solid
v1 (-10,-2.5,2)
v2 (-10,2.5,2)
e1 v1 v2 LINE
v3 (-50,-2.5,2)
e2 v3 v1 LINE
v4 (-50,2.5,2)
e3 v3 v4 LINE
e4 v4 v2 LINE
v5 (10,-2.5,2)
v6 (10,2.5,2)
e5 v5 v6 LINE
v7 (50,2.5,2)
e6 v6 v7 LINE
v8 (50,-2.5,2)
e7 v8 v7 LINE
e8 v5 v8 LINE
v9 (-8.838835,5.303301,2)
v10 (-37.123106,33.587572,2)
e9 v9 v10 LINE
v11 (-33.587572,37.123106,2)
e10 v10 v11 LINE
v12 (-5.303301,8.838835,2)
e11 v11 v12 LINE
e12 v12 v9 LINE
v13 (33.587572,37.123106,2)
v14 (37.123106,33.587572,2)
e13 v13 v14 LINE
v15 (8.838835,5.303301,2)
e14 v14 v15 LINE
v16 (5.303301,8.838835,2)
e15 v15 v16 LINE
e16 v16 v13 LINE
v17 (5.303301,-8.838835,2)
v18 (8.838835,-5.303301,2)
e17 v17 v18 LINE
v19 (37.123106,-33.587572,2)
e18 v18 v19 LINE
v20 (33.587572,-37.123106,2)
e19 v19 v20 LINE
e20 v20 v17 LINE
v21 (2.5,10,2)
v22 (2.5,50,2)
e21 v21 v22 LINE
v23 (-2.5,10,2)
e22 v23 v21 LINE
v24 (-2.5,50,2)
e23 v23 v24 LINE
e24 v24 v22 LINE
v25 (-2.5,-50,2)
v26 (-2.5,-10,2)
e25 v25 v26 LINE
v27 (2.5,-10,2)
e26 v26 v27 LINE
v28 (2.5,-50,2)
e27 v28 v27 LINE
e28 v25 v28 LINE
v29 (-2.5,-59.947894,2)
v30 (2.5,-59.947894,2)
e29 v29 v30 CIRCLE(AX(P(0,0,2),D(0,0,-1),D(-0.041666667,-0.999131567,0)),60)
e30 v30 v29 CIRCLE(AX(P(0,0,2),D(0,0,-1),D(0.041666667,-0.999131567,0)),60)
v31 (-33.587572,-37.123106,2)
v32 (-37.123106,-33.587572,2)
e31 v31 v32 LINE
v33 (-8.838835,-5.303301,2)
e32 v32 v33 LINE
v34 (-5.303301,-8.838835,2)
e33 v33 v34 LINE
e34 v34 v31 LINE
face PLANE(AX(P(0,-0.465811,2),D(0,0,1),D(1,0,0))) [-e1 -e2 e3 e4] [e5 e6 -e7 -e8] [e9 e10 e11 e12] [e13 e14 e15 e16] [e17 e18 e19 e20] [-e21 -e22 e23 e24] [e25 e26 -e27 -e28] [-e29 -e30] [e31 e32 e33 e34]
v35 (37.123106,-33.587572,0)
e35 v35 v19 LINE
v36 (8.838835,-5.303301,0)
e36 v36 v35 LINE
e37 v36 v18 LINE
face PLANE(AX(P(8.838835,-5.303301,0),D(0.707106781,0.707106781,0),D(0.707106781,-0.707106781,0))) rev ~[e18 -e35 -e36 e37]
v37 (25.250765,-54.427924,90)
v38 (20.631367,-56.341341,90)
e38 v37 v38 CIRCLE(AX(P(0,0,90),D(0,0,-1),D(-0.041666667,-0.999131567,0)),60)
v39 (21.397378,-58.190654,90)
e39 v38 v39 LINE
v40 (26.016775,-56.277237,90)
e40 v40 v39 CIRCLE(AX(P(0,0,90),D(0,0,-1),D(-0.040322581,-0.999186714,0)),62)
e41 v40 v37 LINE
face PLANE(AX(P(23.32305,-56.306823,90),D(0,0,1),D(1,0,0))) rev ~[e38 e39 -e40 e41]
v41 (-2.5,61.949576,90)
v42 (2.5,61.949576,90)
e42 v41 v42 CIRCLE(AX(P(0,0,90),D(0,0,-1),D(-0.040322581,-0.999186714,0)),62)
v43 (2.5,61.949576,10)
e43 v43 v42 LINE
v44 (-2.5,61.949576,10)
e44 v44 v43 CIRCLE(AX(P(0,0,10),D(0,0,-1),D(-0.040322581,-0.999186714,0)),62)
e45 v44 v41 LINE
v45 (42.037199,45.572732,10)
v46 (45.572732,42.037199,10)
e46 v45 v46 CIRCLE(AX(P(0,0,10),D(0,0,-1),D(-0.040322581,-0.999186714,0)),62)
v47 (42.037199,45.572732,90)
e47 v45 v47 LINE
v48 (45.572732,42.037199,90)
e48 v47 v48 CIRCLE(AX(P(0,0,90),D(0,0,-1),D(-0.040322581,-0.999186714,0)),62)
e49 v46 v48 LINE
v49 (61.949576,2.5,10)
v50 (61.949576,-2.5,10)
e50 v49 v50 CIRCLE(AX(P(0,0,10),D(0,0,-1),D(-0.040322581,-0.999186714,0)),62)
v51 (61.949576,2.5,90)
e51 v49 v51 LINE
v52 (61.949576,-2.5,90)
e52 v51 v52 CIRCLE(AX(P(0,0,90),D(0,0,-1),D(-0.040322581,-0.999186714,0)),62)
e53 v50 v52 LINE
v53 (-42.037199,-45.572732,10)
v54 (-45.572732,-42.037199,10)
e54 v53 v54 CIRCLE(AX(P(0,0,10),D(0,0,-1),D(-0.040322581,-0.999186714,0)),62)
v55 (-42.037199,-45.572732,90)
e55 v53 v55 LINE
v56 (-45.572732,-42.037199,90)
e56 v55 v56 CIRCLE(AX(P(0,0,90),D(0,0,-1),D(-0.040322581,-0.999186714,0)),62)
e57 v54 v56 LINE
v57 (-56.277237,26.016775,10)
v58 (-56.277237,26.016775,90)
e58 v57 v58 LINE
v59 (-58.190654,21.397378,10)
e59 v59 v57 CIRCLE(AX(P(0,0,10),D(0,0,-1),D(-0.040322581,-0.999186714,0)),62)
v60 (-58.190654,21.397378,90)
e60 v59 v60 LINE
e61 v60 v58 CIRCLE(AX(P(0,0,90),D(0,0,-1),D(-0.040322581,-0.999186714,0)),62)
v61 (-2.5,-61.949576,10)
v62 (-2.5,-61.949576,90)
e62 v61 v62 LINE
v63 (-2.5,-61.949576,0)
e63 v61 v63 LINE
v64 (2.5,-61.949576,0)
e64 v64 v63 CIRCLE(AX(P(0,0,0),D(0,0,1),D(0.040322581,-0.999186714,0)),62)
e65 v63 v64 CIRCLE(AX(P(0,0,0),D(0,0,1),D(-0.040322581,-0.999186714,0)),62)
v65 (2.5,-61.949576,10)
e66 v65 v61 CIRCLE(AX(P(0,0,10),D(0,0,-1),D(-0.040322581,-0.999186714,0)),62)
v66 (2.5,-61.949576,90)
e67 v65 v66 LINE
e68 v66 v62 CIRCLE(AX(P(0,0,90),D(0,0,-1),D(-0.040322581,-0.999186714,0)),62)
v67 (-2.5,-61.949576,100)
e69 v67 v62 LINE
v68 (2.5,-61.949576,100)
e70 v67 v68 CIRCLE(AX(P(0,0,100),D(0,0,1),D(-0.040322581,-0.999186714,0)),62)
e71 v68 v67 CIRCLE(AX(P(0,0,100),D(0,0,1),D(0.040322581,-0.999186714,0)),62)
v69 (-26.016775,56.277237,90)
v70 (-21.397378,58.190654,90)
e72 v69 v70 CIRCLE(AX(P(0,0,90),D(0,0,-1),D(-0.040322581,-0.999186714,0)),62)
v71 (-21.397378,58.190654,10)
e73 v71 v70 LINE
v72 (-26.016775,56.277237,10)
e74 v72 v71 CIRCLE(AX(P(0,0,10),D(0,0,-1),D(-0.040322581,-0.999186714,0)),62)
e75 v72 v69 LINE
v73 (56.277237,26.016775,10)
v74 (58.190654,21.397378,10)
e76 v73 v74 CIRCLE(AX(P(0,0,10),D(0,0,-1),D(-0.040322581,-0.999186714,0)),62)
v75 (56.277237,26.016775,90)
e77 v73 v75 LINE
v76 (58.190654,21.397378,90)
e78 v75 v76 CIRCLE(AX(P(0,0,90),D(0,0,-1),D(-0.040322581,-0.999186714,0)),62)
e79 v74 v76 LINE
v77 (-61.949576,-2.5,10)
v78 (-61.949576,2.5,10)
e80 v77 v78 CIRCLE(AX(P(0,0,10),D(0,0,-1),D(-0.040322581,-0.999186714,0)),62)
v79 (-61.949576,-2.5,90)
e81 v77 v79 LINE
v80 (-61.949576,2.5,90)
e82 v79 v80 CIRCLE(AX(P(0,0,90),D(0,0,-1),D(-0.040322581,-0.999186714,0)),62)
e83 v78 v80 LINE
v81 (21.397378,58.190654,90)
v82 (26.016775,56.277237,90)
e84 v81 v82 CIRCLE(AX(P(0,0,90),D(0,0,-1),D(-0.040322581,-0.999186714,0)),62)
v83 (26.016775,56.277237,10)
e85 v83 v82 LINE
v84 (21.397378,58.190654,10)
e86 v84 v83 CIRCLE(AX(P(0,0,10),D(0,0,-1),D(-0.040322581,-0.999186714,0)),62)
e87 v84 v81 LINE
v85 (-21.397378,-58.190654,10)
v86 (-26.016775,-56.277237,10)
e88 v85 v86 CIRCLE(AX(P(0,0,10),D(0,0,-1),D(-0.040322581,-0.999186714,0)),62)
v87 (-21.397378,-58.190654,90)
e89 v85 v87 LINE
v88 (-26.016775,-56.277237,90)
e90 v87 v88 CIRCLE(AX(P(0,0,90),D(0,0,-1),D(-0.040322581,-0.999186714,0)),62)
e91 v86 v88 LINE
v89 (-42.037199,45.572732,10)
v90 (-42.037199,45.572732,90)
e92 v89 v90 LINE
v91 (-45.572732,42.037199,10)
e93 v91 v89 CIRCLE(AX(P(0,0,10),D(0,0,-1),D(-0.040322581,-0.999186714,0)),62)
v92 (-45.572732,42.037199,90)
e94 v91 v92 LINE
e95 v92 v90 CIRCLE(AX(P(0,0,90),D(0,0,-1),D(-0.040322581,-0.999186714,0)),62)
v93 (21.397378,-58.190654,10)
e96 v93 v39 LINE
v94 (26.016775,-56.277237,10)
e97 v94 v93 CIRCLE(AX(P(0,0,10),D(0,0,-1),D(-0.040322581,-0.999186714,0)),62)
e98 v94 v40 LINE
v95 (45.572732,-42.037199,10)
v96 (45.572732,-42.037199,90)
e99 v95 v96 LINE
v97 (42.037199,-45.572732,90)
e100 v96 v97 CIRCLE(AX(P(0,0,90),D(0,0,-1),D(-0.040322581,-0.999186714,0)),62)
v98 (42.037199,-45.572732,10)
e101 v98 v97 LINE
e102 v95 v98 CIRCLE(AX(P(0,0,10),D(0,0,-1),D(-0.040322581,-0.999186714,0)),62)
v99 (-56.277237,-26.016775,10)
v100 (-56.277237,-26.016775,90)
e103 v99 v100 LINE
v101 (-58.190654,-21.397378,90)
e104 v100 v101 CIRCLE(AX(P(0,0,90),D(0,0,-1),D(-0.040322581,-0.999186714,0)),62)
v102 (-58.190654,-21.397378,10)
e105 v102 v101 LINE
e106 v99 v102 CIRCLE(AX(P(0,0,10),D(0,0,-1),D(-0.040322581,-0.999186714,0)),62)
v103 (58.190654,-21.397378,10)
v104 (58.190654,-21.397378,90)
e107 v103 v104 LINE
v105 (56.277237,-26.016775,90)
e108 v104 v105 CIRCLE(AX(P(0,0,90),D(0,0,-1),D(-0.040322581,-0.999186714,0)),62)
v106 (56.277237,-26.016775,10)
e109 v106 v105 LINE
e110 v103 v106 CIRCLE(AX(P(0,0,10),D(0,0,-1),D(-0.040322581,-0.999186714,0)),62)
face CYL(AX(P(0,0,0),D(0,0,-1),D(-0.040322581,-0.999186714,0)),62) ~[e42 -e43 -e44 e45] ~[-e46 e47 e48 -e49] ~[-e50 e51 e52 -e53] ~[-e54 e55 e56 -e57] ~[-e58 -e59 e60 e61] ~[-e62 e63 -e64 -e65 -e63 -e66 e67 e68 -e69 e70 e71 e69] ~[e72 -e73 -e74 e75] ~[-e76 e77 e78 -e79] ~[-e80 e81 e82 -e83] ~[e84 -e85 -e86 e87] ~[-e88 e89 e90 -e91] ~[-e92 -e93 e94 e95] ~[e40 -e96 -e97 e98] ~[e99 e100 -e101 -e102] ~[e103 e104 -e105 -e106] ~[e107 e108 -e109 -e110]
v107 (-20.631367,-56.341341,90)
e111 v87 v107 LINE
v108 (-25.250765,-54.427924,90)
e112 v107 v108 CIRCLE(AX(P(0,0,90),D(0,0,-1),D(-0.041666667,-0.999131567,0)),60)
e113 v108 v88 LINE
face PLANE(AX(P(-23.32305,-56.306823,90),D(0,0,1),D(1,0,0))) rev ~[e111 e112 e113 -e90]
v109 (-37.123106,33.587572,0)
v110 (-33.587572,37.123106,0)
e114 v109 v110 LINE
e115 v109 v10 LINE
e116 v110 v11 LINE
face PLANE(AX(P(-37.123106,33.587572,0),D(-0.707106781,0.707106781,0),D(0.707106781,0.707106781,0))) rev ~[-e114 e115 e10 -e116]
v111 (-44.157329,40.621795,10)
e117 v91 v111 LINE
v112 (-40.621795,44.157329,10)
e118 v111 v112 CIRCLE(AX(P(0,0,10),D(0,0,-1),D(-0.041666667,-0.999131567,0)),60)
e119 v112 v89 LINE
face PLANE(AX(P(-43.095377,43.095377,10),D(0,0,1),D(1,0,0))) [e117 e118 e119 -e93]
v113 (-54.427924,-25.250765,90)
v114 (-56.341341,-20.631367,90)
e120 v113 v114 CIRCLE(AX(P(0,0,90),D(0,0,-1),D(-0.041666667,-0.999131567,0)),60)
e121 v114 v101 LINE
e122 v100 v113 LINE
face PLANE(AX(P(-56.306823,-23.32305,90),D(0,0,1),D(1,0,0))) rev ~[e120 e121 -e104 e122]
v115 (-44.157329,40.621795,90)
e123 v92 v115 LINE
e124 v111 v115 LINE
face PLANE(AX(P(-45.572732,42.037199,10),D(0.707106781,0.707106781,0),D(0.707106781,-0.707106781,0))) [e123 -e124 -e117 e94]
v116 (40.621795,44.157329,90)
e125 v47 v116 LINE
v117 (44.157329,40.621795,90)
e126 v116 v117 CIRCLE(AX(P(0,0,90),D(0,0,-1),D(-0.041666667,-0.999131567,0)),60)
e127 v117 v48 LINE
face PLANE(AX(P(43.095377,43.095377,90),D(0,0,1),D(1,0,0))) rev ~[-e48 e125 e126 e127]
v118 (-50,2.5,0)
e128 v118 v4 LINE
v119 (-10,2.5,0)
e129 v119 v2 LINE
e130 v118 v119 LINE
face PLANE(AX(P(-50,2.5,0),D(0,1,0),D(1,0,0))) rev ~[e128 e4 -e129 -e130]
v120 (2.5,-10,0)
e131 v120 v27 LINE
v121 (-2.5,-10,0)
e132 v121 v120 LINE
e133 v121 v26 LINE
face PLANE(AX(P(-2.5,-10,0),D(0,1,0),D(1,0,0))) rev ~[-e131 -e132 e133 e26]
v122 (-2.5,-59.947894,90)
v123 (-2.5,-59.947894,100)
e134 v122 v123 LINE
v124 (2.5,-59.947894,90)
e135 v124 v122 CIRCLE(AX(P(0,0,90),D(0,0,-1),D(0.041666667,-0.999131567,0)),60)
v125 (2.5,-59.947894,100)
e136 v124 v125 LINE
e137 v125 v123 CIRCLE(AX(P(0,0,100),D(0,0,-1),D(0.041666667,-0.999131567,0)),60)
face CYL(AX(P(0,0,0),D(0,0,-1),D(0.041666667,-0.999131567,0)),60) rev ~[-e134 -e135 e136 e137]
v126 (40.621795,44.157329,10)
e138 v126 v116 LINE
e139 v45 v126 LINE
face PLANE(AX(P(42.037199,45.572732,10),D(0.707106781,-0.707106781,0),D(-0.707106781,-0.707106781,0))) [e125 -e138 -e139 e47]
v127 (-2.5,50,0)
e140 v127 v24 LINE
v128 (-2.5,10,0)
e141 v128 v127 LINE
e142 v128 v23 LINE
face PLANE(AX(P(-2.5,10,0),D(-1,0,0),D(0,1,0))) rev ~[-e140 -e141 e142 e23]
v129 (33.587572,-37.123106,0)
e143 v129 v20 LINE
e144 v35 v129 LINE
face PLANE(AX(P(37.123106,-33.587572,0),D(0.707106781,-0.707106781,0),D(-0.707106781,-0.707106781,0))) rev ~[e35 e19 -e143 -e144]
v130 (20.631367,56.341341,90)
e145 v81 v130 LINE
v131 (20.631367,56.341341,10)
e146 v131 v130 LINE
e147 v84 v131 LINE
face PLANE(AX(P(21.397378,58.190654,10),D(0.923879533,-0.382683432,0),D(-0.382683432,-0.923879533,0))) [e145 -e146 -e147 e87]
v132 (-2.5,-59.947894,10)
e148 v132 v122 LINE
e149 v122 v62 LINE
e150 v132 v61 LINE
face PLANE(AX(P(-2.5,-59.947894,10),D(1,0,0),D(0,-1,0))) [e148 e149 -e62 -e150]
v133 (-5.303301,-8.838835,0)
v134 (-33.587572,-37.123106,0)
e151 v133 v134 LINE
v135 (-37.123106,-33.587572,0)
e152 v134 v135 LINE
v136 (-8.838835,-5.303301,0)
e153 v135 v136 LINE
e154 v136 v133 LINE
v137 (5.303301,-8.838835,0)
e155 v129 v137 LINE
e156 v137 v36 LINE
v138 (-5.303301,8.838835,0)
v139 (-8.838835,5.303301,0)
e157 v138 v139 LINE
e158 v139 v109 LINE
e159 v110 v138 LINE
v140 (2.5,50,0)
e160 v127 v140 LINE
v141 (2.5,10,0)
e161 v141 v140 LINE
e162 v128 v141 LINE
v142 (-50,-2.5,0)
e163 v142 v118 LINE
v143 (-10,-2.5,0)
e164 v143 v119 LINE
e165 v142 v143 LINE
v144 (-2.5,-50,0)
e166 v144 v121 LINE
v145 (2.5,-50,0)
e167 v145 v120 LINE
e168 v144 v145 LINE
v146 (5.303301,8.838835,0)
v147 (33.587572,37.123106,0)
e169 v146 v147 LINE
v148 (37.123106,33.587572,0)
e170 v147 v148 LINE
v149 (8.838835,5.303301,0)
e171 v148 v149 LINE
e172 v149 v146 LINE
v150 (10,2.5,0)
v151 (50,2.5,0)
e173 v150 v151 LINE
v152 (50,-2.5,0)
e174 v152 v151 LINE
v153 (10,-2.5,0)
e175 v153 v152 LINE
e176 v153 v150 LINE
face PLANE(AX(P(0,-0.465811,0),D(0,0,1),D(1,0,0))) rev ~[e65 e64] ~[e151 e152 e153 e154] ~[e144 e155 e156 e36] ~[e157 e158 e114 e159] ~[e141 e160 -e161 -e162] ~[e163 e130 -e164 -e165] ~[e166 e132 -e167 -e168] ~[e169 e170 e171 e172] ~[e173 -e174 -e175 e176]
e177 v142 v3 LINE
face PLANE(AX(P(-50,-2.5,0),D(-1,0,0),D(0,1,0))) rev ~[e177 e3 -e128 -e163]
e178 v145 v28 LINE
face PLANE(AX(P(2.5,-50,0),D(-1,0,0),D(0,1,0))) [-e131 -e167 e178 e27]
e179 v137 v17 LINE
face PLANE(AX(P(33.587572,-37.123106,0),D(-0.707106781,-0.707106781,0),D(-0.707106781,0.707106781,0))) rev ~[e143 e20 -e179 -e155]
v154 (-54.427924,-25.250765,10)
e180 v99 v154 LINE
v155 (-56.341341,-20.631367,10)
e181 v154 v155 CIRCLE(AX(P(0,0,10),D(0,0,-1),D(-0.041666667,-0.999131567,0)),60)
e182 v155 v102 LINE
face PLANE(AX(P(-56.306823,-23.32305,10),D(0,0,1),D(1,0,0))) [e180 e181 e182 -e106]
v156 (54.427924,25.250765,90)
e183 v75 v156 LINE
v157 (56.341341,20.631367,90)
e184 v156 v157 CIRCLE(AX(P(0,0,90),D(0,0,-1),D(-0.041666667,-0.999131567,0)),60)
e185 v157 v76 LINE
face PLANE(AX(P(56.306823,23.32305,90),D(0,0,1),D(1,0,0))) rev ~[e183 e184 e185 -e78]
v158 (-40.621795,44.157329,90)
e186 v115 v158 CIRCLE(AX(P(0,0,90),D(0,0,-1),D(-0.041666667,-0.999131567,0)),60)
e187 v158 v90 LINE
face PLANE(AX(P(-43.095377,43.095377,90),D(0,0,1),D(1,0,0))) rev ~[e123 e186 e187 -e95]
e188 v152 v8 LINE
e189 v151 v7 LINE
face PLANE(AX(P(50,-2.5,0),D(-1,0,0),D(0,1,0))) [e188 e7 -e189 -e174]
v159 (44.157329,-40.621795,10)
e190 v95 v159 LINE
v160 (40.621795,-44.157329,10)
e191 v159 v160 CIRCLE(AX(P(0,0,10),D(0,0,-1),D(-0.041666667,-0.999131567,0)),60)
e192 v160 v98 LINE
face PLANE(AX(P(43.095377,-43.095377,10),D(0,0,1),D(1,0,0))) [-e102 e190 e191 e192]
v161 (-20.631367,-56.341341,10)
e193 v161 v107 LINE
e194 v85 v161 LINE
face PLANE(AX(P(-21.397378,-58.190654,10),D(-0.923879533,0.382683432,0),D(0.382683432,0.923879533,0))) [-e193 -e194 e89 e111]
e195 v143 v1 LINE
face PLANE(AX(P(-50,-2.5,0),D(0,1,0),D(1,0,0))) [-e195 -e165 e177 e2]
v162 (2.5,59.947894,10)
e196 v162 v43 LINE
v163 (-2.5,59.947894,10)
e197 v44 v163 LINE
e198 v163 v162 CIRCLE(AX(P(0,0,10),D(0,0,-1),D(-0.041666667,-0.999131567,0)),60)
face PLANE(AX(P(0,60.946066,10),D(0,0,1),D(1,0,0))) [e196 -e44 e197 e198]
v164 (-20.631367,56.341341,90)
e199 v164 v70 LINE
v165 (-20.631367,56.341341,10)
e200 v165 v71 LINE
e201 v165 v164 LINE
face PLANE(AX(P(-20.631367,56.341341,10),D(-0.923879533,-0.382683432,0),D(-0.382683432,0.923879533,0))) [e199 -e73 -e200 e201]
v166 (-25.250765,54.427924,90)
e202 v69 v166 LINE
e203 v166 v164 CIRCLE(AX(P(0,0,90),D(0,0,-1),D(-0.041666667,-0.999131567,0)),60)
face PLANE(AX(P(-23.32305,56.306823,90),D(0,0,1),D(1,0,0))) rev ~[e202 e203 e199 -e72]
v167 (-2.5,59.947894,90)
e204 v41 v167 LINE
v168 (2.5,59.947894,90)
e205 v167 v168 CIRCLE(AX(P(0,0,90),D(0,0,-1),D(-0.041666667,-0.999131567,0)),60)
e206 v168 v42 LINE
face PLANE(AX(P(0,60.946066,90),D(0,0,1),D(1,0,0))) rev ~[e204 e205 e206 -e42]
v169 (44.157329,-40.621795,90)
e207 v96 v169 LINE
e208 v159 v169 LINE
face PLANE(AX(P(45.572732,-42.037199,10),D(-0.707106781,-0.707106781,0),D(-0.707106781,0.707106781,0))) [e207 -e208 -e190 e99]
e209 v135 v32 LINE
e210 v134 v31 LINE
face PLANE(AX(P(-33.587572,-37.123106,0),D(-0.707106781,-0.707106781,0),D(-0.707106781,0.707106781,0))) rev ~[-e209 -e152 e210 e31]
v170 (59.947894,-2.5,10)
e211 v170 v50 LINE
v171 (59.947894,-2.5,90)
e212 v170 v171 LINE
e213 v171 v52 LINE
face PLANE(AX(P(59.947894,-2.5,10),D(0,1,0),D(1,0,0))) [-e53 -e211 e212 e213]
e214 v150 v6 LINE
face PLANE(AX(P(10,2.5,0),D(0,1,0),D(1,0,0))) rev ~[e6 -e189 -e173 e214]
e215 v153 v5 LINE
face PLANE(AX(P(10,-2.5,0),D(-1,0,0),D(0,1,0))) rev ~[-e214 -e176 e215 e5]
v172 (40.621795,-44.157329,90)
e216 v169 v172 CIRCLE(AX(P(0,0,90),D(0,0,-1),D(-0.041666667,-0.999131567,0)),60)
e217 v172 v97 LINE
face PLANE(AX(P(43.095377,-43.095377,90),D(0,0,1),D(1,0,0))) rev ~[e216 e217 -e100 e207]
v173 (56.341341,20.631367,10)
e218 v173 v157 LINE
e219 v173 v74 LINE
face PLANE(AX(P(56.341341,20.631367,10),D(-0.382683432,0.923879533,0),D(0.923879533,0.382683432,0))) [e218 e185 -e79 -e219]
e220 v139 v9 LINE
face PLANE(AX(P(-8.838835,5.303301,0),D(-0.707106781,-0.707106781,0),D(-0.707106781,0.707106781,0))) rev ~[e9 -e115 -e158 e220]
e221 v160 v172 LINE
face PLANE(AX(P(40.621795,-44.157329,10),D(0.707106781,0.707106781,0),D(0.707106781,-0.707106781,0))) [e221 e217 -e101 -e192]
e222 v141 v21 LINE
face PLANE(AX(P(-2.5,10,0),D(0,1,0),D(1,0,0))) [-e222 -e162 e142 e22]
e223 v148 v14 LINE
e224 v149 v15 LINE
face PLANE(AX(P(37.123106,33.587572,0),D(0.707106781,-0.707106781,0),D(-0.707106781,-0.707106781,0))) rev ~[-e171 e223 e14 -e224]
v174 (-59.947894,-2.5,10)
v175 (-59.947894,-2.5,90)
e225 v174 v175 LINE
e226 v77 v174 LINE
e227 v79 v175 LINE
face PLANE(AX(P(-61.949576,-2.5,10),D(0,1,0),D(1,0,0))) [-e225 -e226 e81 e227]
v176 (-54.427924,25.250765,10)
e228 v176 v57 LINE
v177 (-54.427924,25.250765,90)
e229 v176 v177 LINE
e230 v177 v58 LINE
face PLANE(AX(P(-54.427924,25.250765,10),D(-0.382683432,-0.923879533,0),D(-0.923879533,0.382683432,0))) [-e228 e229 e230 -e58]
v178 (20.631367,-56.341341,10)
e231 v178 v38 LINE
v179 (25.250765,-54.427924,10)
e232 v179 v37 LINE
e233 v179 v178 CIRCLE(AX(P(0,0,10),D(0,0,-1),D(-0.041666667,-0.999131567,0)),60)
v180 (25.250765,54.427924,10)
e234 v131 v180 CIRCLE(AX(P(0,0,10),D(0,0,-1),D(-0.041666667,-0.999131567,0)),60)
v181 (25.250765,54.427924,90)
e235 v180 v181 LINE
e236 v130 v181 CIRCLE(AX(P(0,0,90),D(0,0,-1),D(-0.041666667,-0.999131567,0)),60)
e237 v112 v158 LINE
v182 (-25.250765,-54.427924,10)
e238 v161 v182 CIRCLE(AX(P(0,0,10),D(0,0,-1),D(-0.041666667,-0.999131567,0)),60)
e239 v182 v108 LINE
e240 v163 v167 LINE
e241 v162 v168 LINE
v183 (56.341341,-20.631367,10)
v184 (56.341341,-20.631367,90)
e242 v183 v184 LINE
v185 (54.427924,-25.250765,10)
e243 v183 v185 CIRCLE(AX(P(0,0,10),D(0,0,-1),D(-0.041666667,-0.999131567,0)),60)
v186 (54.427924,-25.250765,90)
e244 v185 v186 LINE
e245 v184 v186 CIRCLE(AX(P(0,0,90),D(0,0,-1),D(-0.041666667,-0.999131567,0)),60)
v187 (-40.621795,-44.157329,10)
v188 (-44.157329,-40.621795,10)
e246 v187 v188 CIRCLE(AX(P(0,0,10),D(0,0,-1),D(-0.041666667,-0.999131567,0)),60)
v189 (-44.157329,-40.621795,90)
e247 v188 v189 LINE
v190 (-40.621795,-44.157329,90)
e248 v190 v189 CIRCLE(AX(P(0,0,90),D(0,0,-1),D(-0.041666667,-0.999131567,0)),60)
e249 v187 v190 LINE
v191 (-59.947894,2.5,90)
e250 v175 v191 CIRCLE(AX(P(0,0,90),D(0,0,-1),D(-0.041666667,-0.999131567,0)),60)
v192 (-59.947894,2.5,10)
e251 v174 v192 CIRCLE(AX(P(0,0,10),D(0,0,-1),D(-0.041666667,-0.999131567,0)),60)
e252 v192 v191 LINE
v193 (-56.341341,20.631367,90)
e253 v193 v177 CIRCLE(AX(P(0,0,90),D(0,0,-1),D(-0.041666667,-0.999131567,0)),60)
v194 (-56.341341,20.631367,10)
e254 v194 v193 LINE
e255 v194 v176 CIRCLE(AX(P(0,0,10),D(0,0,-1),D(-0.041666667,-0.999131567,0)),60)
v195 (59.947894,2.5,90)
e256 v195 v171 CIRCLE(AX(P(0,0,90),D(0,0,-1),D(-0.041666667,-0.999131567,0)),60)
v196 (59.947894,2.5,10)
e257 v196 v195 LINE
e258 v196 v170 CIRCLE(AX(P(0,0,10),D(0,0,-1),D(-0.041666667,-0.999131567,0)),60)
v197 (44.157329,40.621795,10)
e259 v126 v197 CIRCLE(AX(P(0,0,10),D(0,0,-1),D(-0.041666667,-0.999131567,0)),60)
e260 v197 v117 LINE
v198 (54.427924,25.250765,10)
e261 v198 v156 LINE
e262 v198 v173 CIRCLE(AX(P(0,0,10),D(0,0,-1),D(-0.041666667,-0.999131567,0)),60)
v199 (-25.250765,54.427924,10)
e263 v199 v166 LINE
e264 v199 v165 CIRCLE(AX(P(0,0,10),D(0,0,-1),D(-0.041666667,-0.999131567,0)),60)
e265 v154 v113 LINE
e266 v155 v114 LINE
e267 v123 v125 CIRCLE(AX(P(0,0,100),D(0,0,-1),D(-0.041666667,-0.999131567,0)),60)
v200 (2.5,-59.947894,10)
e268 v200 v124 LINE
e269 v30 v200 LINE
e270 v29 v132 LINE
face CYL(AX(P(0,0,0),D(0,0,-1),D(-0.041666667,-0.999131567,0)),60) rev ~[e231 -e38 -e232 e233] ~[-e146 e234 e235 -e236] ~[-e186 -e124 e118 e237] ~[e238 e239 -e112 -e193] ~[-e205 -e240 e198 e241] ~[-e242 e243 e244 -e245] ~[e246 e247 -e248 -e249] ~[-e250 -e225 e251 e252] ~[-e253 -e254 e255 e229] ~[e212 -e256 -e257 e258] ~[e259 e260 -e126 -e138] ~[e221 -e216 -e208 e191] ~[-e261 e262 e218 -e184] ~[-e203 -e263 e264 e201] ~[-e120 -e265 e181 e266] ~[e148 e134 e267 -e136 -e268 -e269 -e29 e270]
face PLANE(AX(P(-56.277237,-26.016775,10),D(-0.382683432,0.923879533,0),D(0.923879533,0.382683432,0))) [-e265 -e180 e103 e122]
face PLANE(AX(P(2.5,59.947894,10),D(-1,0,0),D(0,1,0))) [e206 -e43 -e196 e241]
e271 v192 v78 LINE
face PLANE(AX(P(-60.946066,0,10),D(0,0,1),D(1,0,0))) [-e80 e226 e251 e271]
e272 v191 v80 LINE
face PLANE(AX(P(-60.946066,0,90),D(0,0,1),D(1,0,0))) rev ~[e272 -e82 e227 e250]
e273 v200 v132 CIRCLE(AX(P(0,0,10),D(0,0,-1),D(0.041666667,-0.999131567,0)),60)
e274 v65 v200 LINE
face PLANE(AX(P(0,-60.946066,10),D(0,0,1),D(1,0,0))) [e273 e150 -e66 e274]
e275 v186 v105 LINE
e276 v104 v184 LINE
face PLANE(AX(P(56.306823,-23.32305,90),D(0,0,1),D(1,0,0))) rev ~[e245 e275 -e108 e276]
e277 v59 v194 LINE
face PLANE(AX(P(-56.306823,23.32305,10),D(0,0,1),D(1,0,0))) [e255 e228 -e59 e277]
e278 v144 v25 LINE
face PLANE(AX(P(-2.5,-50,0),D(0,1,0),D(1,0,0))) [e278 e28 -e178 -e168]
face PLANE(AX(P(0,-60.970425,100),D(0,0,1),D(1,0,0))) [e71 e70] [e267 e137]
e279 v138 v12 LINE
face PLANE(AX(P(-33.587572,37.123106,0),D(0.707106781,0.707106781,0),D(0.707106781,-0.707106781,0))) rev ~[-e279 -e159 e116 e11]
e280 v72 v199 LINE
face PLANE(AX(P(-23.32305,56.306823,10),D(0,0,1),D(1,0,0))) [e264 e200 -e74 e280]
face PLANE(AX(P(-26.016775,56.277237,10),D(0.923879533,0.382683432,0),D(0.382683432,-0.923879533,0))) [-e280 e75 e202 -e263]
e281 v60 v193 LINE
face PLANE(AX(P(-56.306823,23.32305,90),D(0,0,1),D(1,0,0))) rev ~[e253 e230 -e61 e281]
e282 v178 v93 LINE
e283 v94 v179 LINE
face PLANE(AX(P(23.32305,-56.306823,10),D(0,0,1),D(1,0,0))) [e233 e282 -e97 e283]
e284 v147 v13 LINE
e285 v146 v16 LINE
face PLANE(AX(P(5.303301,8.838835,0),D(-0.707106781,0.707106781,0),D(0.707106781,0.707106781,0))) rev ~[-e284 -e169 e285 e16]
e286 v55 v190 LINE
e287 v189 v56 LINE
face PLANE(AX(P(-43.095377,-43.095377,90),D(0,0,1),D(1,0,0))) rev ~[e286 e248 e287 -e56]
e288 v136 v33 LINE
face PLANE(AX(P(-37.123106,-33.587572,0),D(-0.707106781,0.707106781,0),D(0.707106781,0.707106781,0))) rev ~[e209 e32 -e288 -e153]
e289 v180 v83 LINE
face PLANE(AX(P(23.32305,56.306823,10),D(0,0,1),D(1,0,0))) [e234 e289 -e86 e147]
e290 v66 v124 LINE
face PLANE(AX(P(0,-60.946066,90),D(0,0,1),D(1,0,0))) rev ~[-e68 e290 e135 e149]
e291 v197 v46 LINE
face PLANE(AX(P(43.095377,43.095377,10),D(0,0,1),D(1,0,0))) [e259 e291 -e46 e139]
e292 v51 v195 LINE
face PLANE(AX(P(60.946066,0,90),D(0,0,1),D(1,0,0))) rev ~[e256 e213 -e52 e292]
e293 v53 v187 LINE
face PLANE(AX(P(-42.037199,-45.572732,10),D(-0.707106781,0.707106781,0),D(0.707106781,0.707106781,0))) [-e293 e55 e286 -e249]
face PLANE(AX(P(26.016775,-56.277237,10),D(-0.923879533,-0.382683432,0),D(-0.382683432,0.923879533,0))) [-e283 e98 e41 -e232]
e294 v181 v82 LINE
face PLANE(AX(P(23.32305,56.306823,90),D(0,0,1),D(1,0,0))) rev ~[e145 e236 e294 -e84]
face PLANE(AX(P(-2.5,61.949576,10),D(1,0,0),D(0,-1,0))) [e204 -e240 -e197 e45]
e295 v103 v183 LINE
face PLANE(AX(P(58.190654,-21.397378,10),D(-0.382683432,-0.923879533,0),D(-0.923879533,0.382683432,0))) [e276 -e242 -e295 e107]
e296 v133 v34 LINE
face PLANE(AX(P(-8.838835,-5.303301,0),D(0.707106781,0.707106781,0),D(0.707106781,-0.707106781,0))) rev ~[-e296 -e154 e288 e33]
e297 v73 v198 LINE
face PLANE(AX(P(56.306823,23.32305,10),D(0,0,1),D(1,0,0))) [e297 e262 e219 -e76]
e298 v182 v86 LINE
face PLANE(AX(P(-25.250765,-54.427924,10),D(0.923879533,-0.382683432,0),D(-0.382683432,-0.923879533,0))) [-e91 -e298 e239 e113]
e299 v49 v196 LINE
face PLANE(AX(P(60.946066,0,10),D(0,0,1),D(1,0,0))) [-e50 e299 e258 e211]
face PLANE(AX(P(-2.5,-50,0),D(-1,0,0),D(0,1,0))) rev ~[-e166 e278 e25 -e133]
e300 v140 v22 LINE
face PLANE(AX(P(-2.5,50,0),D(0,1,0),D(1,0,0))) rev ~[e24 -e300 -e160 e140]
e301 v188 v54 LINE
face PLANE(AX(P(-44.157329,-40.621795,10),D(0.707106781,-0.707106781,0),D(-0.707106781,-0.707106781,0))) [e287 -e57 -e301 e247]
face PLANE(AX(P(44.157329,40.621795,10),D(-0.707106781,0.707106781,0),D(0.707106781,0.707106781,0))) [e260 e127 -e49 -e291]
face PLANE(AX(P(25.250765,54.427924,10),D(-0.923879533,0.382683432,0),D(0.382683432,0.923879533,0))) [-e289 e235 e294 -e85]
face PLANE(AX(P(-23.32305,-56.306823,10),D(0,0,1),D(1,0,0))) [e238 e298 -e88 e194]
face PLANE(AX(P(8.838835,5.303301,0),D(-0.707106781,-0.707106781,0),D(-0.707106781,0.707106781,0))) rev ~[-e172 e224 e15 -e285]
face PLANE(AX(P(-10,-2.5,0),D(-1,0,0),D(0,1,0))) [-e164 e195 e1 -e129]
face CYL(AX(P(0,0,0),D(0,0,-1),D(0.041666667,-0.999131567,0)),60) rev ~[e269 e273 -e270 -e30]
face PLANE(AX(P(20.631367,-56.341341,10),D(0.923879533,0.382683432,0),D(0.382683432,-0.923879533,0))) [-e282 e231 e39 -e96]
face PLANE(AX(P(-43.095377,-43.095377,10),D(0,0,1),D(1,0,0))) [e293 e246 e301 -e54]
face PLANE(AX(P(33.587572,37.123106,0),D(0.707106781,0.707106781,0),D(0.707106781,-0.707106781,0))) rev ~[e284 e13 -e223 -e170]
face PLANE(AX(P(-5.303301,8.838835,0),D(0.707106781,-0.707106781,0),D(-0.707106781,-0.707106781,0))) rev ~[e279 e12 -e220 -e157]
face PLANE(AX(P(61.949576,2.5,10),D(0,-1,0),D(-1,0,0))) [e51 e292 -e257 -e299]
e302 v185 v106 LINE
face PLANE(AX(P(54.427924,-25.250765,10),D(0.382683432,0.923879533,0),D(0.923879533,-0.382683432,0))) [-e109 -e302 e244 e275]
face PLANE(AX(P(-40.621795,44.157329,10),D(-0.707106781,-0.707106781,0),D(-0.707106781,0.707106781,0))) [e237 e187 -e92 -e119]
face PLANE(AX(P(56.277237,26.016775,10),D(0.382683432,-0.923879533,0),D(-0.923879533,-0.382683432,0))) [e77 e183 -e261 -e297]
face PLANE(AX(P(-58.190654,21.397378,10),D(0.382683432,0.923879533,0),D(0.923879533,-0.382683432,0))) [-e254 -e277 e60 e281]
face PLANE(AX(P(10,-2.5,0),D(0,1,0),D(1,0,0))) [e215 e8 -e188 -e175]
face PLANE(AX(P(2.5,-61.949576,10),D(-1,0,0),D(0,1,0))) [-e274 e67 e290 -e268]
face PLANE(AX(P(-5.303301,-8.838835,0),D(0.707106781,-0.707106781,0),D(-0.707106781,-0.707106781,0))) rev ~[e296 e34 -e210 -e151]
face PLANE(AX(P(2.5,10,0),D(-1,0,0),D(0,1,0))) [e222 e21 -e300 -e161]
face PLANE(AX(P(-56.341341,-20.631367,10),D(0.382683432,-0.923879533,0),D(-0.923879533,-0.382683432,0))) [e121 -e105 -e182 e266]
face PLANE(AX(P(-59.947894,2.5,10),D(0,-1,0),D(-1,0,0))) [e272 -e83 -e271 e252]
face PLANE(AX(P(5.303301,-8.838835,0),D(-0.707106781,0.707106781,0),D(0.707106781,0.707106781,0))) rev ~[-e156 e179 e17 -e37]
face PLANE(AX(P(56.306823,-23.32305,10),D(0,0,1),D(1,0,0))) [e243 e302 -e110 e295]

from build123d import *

# Parameters (mm, degrees)
F0_W     = 5
F0_H     = 40
F0_W_2   = 40
F0_H_2   = 5
F1_DEPTH = 2
F2_DEPTH = 100
F5_DEPTH = 80


with BuildPart() as f1:
    # F0 (on Top) → F1 (new body)
    with BuildSketch(Plane.XY):
        with BuildLine():
            ThreePointArc((2.5, -59.9478940414), (43.3012701892, -41.5331193146), (60, 0))
            ThreePointArc((60, 0), (-41.5331193146, 43.3012701892), (-2.5, -59.9478940414))
            ThreePointArc((-2.5, -59.9478940414), (0, -60), (2.5, -59.9478940414))
        make_face()
        Polygon((-8.8388347648, -5.3033008589), (-5.3033008589, -8.8388347648), (-33.5875721064, -37.1231060123), (-37.1231060123, -33.5875721064), align=None, mode=Mode.SUBTRACT)
        with Locations((0, -30)):
            Rectangle(F0_W, F0_H, mode=Mode.SUBTRACT)
        Polygon((5.3033008589, -8.8388347648), (8.8388347648, -5.3033008589), (37.1231060123, -33.5875721064), (33.5875721064, -37.1231060123), align=None, mode=Mode.SUBTRACT)
        with Locations((-30, 0)):
            Rectangle(F0_W_2, F0_H_2, mode=Mode.SUBTRACT)
        Polygon((-5.3033008589, 8.8388347648), (-8.8388347648, 5.3033008589), (-37.1231060123, 33.5875721064), (-33.5875721064, 37.1231060123), align=None, mode=Mode.SUBTRACT)
        with Locations((30, 0)):
            Rectangle(F0_W_2, F0_H_2, mode=Mode.SUBTRACT)
        with Locations((0, 30)):
            Rectangle(F0_W, F0_H, mode=Mode.SUBTRACT)
        Polygon((8.8388347648, 5.3033008589), (5.3033008589, 8.8388347648), (33.5875721064, 37.1231060123), (37.1231060123, 33.5875721064), align=None, mode=Mode.SUBTRACT)
        with BuildLine():
            ThreePointArc((2.5, -59.9478940414), (0, -60), (-2.5, -59.9478940414))
            Line((-2.5, -59.9478940414), (-2.5, -61.9495762697))
            ThreePointArc((-2.5, -61.9495762697), (0, -62), (2.5, -61.9495762697))
            Line((2.5, -61.9495762697), (2.5, -59.9478940414))
        make_face()
        with BuildLine():
            ThreePointArc((-2.5, -59.9478940414), (-41.5331193146, 43.3012701892), (60, 0))
            ThreePointArc((60, 0), (43.3012701892, -41.5331193146), (2.5, -59.9478940414))
            Line((2.5, -59.9478940414), (2.5, -61.9495762697))
            ThreePointArc((2.5, -61.9495762697), (44.7157690306, -42.947642543), (62, 0))
            ThreePointArc((62, 0), (-42.947642543, 44.7157690306), (-2.5, -61.9495762697))
            Line((-2.5, -61.9495762697), (-2.5, -59.9478940414))
        make_face()
    extrude(amount=F1_DEPTH)

    # F0 (on Top) → F2 (join)
    with BuildSketch(Plane.XY):
        with BuildLine():
            ThreePointArc((2.5, -59.9478940414), (0, -60), (-2.5, -59.9478940414))
            Line((-2.5, -59.9478940414), (-2.5, -61.9495762697))
            ThreePointArc((-2.5, -61.9495762697), (0, -62), (2.5, -61.9495762697))
            Line((2.5, -61.9495762697), (2.5, -59.9478940414))
        make_face()
        with BuildLine():
            ThreePointArc((-2.5, -59.9478940414), (-41.5331193146, 43.3012701892), (60, 0))
            ThreePointArc((60, 0), (43.3012701892, -41.5331193146), (2.5, -59.9478940414))
            Line((2.5, -59.9478940414), (2.5, -61.9495762697))
            ThreePointArc((2.5, -61.9495762697), (44.7157690306, -42.947642543), (62, 0))
            ThreePointArc((62, 0), (-42.947642543, 44.7157690306), (-2.5, -61.9495762697))
            Line((-2.5, -61.9495762697), (-2.5, -59.9478940414))
        make_face()
    extrude(amount=F2_DEPTH)

    # F4 (on offset) → F5 (cut)
    with BuildSketch(Plane.XY.offset(10)):
        with BuildLine():
            ThreePointArc((2.5, -59.9478940414), (0, -59.80692448), (-2.5, -59.9478940414))
            Line((-2.5, -59.9478940414), (-2.5, -61.9495762697))
            ThreePointArc((-2.5, -61.9495762697), (0, -62.078494201), (2.5, -61.9495762697))
            Line((2.5, -61.9495762697), (2.5, -59.9478940414))
        make_face()
        with BuildLine():
            Line((-25.2507646861, -54.4279237411), (-26.0167753117, -56.2772369824))
            ThreePointArc((-26.0167753117, -56.2772369824), (-23.7564112369, -57.3530502014), (-21.3973776492, -58.1906541443))
            Line((-21.3973776492, -58.1906541443), (-20.6313670235, -56.3413409029))
            ThreePointArc((-20.6313670235, -56.3413409029), (-22.8871191392, -55.2543934295), (-25.2507646861, -54.4279237411))
        make_face()
        with BuildLine():
            Line((-44.1573293475, -40.6217954416), (-45.5727324249, -42.037198519))
            ThreePointArc((-45.5727324249, -42.037198519), (-43.8961242154, -43.8961242154), (-42.037198519, -45.5727324249))
            Line((-42.037198519, -45.5727324249), (-40.6217954416, -44.1573293475))
            ThreePointArc((-40.6217954416, -44.1573293475), (-42.2898818617, -42.2898818617), (-44.1573293475, -40.6217954416))
        make_face()
        with BuildLine():
            Line((-56.3413409029, -20.6313670235), (-58.1906541443, -21.3973776492))
            ThreePointArc((-58.1906541443, -21.3973776492), (-57.3530502014, -23.7564112369), (-56.2772369824, -26.0167753117))
            Line((-56.2772369824, -26.0167753117), (-54.4279237411, -25.2507646861))
            ThreePointArc((-54.4279237411, -25.2507646861), (-55.2543934295, -22.8871191392), (-56.3413409029, -20.6313670235))
        make_face()
        with BuildLine():
            Line((-59.9478940414, 2.5), (-61.9495762697, 2.5))
            ThreePointArc((-61.9495762697, 2.5), (-62.078494201, 0), (-61.9495762697, -2.5))
            Line((-61.9495762697, -2.5), (-59.9478940414, -2.5))
            ThreePointArc((-59.9478940414, -2.5), (-59.80692448, 0), (-59.9478940414, 2.5))
        make_face()
        with BuildLine():
            Line((20.6313670235, -56.3413409029), (21.3973776492, -58.1906541443))
            ThreePointArc((21.3973776492, -58.1906541443), (23.7564112369, -57.3530502014), (26.0167753117, -56.2772369824))
            Line((26.0167753117, -56.2772369824), (25.2507646861, -54.4279237411))
            ThreePointArc((25.2507646861, -54.4279237411), (22.8871191392, -55.2543934295), (20.6313670235, -56.3413409029))
        make_face()
        with BuildLine():
            Line((40.6217954416, -44.1573293475), (42.037198519, -45.5727324249))
            ThreePointArc((42.037198519, -45.5727324249), (43.8961242154, -43.8961242154), (45.5727324249, -42.037198519))
            Line((45.5727324249, -42.037198519), (44.1573293475, -40.6217954416))
            ThreePointArc((44.1573293475, -40.6217954416), (42.2898818617, -42.2898818617), (40.6217954416, -44.1573293475))
        make_face()
        with BuildLine():
            Line((54.4279237411, -25.2507646861), (56.2772369824, -26.0167753117))
            ThreePointArc((56.2772369824, -26.0167753117), (57.3530502014, -23.7564112369), (58.1906541443, -21.3973776492))
            Line((58.1906541443, -21.3973776492), (56.3413409029, -20.6313670235))
            ThreePointArc((56.3413409029, -20.6313670235), (55.2543934295, -22.8871191392), (54.4279237411, -25.2507646861))
        make_face()
        with BuildLine():
            Line((56.3413409029, 20.6313670235), (58.1906541443, 21.3973776492))
            ThreePointArc((58.1906541443, 21.3973776492), (57.3530502014, 23.7564112369), (56.2772369824, 26.0167753117))
            Line((56.2772369824, 26.0167753117), (54.4279237411, 25.2507646861))
            ThreePointArc((54.4279237411, 25.2507646861), (55.2543934295, 22.8871191392), (56.3413409029, 20.6313670235))
        make_face()
        with BuildLine():
            Line((44.1573293475, 40.6217954416), (45.5727324249, 42.037198519))
            ThreePointArc((45.5727324249, 42.037198519), (43.8961242154, 43.8961242154), (42.037198519, 45.5727324249))
            Line((42.037198519, 45.5727324249), (40.6217954416, 44.1573293475))
            ThreePointArc((40.6217954416, 44.1573293475), (42.2898818617, 42.2898818617), (44.1573293475, 40.6217954416))
        make_face()
        with BuildLine():
            Line((25.2507646861, 54.4279237411), (26.0167753117, 56.2772369824))
            ThreePointArc((26.0167753117, 56.2772369824), (23.7564112369, 57.3530502014), (21.3973776492, 58.1906541443))
            Line((21.3973776492, 58.1906541443), (20.6313670235, 56.3413409029))
            ThreePointArc((20.6313670235, 56.3413409029), (22.8871191392, 55.2543934295), (25.2507646861, 54.4279237411))
        make_face()
        with BuildLine():
            Line((2.5, 59.9478940414), (2.5, 61.9495762697))
            ThreePointArc((2.5, 61.9495762697), (0, 62.078494201), (-2.5, 61.9495762697))
            Line((-2.5, 61.9495762697), (-2.5, 59.9478940414))
            ThreePointArc((-2.5, 59.9478940414), (0, 59.80692448), (2.5, 59.9478940414))
        make_face()
        with BuildLine():
            Line((-20.6313670235, 56.3413409029), (-21.3973776492, 58.1906541443))
            ThreePointArc((-21.3973776492, 58.1906541443), (-23.7564112369, 57.3530502014), (-26.0167753117, 56.2772369824))
            Line((-26.0167753117, 56.2772369824), (-25.2507646861, 54.4279237411))
            ThreePointArc((-25.2507646861, 54.4279237411), (-22.8871191392, 55.2543934295), (-20.6313670235, 56.3413409029))
        make_face()
        with BuildLine():
            Line((-54.4279237411, 25.2507646861), (-56.2772369824, 26.0167753117))
            ThreePointArc((-56.2772369824, 26.0167753117), (-57.3530502014, 23.7564112369), (-58.1906541443, 21.3973776492))
            Line((-58.1906541443, 21.3973776492), (-56.3413409029, 20.6313670235))
            ThreePointArc((-56.3413409029, 20.6313670235), (-55.2543934295, 22.8871191392), (-54.4279237411, 25.2507646861))
        make_face()
        with BuildLine():
            Line((-40.6217954416, 44.1573293475), (-42.037198519, 45.5727324249))
            ThreePointArc((-42.037198519, 45.5727324249), (-43.8961242154, 43.8961242154), (-45.5727324249, 42.037198519))
            Line((-45.5727324249, 42.037198519), (-44.1573293475, 40.6217954416))
            ThreePointArc((-44.1573293475, 40.6217954416), (-42.2898818617, 42.2898818617), (-40.6217954416, 44.1573293475))
        make_face()
        with BuildLine():
            Line((59.9478940414, -2.5), (61.9495762697, -2.5))
            ThreePointArc((61.9495762697, -2.5), (62.078494201, 0), (61.9495762697, 2.5))
            Line((61.9495762697, 2.5), (59.9478940414, 2.5))
            ThreePointArc((59.9478940414, 2.5), (59.80692448, 0), (59.9478940414, -2.5))
        make_face()
    extrude(amount=F5_DEPTH, mode=Mode.SUBTRACT)


solid = f1.part
